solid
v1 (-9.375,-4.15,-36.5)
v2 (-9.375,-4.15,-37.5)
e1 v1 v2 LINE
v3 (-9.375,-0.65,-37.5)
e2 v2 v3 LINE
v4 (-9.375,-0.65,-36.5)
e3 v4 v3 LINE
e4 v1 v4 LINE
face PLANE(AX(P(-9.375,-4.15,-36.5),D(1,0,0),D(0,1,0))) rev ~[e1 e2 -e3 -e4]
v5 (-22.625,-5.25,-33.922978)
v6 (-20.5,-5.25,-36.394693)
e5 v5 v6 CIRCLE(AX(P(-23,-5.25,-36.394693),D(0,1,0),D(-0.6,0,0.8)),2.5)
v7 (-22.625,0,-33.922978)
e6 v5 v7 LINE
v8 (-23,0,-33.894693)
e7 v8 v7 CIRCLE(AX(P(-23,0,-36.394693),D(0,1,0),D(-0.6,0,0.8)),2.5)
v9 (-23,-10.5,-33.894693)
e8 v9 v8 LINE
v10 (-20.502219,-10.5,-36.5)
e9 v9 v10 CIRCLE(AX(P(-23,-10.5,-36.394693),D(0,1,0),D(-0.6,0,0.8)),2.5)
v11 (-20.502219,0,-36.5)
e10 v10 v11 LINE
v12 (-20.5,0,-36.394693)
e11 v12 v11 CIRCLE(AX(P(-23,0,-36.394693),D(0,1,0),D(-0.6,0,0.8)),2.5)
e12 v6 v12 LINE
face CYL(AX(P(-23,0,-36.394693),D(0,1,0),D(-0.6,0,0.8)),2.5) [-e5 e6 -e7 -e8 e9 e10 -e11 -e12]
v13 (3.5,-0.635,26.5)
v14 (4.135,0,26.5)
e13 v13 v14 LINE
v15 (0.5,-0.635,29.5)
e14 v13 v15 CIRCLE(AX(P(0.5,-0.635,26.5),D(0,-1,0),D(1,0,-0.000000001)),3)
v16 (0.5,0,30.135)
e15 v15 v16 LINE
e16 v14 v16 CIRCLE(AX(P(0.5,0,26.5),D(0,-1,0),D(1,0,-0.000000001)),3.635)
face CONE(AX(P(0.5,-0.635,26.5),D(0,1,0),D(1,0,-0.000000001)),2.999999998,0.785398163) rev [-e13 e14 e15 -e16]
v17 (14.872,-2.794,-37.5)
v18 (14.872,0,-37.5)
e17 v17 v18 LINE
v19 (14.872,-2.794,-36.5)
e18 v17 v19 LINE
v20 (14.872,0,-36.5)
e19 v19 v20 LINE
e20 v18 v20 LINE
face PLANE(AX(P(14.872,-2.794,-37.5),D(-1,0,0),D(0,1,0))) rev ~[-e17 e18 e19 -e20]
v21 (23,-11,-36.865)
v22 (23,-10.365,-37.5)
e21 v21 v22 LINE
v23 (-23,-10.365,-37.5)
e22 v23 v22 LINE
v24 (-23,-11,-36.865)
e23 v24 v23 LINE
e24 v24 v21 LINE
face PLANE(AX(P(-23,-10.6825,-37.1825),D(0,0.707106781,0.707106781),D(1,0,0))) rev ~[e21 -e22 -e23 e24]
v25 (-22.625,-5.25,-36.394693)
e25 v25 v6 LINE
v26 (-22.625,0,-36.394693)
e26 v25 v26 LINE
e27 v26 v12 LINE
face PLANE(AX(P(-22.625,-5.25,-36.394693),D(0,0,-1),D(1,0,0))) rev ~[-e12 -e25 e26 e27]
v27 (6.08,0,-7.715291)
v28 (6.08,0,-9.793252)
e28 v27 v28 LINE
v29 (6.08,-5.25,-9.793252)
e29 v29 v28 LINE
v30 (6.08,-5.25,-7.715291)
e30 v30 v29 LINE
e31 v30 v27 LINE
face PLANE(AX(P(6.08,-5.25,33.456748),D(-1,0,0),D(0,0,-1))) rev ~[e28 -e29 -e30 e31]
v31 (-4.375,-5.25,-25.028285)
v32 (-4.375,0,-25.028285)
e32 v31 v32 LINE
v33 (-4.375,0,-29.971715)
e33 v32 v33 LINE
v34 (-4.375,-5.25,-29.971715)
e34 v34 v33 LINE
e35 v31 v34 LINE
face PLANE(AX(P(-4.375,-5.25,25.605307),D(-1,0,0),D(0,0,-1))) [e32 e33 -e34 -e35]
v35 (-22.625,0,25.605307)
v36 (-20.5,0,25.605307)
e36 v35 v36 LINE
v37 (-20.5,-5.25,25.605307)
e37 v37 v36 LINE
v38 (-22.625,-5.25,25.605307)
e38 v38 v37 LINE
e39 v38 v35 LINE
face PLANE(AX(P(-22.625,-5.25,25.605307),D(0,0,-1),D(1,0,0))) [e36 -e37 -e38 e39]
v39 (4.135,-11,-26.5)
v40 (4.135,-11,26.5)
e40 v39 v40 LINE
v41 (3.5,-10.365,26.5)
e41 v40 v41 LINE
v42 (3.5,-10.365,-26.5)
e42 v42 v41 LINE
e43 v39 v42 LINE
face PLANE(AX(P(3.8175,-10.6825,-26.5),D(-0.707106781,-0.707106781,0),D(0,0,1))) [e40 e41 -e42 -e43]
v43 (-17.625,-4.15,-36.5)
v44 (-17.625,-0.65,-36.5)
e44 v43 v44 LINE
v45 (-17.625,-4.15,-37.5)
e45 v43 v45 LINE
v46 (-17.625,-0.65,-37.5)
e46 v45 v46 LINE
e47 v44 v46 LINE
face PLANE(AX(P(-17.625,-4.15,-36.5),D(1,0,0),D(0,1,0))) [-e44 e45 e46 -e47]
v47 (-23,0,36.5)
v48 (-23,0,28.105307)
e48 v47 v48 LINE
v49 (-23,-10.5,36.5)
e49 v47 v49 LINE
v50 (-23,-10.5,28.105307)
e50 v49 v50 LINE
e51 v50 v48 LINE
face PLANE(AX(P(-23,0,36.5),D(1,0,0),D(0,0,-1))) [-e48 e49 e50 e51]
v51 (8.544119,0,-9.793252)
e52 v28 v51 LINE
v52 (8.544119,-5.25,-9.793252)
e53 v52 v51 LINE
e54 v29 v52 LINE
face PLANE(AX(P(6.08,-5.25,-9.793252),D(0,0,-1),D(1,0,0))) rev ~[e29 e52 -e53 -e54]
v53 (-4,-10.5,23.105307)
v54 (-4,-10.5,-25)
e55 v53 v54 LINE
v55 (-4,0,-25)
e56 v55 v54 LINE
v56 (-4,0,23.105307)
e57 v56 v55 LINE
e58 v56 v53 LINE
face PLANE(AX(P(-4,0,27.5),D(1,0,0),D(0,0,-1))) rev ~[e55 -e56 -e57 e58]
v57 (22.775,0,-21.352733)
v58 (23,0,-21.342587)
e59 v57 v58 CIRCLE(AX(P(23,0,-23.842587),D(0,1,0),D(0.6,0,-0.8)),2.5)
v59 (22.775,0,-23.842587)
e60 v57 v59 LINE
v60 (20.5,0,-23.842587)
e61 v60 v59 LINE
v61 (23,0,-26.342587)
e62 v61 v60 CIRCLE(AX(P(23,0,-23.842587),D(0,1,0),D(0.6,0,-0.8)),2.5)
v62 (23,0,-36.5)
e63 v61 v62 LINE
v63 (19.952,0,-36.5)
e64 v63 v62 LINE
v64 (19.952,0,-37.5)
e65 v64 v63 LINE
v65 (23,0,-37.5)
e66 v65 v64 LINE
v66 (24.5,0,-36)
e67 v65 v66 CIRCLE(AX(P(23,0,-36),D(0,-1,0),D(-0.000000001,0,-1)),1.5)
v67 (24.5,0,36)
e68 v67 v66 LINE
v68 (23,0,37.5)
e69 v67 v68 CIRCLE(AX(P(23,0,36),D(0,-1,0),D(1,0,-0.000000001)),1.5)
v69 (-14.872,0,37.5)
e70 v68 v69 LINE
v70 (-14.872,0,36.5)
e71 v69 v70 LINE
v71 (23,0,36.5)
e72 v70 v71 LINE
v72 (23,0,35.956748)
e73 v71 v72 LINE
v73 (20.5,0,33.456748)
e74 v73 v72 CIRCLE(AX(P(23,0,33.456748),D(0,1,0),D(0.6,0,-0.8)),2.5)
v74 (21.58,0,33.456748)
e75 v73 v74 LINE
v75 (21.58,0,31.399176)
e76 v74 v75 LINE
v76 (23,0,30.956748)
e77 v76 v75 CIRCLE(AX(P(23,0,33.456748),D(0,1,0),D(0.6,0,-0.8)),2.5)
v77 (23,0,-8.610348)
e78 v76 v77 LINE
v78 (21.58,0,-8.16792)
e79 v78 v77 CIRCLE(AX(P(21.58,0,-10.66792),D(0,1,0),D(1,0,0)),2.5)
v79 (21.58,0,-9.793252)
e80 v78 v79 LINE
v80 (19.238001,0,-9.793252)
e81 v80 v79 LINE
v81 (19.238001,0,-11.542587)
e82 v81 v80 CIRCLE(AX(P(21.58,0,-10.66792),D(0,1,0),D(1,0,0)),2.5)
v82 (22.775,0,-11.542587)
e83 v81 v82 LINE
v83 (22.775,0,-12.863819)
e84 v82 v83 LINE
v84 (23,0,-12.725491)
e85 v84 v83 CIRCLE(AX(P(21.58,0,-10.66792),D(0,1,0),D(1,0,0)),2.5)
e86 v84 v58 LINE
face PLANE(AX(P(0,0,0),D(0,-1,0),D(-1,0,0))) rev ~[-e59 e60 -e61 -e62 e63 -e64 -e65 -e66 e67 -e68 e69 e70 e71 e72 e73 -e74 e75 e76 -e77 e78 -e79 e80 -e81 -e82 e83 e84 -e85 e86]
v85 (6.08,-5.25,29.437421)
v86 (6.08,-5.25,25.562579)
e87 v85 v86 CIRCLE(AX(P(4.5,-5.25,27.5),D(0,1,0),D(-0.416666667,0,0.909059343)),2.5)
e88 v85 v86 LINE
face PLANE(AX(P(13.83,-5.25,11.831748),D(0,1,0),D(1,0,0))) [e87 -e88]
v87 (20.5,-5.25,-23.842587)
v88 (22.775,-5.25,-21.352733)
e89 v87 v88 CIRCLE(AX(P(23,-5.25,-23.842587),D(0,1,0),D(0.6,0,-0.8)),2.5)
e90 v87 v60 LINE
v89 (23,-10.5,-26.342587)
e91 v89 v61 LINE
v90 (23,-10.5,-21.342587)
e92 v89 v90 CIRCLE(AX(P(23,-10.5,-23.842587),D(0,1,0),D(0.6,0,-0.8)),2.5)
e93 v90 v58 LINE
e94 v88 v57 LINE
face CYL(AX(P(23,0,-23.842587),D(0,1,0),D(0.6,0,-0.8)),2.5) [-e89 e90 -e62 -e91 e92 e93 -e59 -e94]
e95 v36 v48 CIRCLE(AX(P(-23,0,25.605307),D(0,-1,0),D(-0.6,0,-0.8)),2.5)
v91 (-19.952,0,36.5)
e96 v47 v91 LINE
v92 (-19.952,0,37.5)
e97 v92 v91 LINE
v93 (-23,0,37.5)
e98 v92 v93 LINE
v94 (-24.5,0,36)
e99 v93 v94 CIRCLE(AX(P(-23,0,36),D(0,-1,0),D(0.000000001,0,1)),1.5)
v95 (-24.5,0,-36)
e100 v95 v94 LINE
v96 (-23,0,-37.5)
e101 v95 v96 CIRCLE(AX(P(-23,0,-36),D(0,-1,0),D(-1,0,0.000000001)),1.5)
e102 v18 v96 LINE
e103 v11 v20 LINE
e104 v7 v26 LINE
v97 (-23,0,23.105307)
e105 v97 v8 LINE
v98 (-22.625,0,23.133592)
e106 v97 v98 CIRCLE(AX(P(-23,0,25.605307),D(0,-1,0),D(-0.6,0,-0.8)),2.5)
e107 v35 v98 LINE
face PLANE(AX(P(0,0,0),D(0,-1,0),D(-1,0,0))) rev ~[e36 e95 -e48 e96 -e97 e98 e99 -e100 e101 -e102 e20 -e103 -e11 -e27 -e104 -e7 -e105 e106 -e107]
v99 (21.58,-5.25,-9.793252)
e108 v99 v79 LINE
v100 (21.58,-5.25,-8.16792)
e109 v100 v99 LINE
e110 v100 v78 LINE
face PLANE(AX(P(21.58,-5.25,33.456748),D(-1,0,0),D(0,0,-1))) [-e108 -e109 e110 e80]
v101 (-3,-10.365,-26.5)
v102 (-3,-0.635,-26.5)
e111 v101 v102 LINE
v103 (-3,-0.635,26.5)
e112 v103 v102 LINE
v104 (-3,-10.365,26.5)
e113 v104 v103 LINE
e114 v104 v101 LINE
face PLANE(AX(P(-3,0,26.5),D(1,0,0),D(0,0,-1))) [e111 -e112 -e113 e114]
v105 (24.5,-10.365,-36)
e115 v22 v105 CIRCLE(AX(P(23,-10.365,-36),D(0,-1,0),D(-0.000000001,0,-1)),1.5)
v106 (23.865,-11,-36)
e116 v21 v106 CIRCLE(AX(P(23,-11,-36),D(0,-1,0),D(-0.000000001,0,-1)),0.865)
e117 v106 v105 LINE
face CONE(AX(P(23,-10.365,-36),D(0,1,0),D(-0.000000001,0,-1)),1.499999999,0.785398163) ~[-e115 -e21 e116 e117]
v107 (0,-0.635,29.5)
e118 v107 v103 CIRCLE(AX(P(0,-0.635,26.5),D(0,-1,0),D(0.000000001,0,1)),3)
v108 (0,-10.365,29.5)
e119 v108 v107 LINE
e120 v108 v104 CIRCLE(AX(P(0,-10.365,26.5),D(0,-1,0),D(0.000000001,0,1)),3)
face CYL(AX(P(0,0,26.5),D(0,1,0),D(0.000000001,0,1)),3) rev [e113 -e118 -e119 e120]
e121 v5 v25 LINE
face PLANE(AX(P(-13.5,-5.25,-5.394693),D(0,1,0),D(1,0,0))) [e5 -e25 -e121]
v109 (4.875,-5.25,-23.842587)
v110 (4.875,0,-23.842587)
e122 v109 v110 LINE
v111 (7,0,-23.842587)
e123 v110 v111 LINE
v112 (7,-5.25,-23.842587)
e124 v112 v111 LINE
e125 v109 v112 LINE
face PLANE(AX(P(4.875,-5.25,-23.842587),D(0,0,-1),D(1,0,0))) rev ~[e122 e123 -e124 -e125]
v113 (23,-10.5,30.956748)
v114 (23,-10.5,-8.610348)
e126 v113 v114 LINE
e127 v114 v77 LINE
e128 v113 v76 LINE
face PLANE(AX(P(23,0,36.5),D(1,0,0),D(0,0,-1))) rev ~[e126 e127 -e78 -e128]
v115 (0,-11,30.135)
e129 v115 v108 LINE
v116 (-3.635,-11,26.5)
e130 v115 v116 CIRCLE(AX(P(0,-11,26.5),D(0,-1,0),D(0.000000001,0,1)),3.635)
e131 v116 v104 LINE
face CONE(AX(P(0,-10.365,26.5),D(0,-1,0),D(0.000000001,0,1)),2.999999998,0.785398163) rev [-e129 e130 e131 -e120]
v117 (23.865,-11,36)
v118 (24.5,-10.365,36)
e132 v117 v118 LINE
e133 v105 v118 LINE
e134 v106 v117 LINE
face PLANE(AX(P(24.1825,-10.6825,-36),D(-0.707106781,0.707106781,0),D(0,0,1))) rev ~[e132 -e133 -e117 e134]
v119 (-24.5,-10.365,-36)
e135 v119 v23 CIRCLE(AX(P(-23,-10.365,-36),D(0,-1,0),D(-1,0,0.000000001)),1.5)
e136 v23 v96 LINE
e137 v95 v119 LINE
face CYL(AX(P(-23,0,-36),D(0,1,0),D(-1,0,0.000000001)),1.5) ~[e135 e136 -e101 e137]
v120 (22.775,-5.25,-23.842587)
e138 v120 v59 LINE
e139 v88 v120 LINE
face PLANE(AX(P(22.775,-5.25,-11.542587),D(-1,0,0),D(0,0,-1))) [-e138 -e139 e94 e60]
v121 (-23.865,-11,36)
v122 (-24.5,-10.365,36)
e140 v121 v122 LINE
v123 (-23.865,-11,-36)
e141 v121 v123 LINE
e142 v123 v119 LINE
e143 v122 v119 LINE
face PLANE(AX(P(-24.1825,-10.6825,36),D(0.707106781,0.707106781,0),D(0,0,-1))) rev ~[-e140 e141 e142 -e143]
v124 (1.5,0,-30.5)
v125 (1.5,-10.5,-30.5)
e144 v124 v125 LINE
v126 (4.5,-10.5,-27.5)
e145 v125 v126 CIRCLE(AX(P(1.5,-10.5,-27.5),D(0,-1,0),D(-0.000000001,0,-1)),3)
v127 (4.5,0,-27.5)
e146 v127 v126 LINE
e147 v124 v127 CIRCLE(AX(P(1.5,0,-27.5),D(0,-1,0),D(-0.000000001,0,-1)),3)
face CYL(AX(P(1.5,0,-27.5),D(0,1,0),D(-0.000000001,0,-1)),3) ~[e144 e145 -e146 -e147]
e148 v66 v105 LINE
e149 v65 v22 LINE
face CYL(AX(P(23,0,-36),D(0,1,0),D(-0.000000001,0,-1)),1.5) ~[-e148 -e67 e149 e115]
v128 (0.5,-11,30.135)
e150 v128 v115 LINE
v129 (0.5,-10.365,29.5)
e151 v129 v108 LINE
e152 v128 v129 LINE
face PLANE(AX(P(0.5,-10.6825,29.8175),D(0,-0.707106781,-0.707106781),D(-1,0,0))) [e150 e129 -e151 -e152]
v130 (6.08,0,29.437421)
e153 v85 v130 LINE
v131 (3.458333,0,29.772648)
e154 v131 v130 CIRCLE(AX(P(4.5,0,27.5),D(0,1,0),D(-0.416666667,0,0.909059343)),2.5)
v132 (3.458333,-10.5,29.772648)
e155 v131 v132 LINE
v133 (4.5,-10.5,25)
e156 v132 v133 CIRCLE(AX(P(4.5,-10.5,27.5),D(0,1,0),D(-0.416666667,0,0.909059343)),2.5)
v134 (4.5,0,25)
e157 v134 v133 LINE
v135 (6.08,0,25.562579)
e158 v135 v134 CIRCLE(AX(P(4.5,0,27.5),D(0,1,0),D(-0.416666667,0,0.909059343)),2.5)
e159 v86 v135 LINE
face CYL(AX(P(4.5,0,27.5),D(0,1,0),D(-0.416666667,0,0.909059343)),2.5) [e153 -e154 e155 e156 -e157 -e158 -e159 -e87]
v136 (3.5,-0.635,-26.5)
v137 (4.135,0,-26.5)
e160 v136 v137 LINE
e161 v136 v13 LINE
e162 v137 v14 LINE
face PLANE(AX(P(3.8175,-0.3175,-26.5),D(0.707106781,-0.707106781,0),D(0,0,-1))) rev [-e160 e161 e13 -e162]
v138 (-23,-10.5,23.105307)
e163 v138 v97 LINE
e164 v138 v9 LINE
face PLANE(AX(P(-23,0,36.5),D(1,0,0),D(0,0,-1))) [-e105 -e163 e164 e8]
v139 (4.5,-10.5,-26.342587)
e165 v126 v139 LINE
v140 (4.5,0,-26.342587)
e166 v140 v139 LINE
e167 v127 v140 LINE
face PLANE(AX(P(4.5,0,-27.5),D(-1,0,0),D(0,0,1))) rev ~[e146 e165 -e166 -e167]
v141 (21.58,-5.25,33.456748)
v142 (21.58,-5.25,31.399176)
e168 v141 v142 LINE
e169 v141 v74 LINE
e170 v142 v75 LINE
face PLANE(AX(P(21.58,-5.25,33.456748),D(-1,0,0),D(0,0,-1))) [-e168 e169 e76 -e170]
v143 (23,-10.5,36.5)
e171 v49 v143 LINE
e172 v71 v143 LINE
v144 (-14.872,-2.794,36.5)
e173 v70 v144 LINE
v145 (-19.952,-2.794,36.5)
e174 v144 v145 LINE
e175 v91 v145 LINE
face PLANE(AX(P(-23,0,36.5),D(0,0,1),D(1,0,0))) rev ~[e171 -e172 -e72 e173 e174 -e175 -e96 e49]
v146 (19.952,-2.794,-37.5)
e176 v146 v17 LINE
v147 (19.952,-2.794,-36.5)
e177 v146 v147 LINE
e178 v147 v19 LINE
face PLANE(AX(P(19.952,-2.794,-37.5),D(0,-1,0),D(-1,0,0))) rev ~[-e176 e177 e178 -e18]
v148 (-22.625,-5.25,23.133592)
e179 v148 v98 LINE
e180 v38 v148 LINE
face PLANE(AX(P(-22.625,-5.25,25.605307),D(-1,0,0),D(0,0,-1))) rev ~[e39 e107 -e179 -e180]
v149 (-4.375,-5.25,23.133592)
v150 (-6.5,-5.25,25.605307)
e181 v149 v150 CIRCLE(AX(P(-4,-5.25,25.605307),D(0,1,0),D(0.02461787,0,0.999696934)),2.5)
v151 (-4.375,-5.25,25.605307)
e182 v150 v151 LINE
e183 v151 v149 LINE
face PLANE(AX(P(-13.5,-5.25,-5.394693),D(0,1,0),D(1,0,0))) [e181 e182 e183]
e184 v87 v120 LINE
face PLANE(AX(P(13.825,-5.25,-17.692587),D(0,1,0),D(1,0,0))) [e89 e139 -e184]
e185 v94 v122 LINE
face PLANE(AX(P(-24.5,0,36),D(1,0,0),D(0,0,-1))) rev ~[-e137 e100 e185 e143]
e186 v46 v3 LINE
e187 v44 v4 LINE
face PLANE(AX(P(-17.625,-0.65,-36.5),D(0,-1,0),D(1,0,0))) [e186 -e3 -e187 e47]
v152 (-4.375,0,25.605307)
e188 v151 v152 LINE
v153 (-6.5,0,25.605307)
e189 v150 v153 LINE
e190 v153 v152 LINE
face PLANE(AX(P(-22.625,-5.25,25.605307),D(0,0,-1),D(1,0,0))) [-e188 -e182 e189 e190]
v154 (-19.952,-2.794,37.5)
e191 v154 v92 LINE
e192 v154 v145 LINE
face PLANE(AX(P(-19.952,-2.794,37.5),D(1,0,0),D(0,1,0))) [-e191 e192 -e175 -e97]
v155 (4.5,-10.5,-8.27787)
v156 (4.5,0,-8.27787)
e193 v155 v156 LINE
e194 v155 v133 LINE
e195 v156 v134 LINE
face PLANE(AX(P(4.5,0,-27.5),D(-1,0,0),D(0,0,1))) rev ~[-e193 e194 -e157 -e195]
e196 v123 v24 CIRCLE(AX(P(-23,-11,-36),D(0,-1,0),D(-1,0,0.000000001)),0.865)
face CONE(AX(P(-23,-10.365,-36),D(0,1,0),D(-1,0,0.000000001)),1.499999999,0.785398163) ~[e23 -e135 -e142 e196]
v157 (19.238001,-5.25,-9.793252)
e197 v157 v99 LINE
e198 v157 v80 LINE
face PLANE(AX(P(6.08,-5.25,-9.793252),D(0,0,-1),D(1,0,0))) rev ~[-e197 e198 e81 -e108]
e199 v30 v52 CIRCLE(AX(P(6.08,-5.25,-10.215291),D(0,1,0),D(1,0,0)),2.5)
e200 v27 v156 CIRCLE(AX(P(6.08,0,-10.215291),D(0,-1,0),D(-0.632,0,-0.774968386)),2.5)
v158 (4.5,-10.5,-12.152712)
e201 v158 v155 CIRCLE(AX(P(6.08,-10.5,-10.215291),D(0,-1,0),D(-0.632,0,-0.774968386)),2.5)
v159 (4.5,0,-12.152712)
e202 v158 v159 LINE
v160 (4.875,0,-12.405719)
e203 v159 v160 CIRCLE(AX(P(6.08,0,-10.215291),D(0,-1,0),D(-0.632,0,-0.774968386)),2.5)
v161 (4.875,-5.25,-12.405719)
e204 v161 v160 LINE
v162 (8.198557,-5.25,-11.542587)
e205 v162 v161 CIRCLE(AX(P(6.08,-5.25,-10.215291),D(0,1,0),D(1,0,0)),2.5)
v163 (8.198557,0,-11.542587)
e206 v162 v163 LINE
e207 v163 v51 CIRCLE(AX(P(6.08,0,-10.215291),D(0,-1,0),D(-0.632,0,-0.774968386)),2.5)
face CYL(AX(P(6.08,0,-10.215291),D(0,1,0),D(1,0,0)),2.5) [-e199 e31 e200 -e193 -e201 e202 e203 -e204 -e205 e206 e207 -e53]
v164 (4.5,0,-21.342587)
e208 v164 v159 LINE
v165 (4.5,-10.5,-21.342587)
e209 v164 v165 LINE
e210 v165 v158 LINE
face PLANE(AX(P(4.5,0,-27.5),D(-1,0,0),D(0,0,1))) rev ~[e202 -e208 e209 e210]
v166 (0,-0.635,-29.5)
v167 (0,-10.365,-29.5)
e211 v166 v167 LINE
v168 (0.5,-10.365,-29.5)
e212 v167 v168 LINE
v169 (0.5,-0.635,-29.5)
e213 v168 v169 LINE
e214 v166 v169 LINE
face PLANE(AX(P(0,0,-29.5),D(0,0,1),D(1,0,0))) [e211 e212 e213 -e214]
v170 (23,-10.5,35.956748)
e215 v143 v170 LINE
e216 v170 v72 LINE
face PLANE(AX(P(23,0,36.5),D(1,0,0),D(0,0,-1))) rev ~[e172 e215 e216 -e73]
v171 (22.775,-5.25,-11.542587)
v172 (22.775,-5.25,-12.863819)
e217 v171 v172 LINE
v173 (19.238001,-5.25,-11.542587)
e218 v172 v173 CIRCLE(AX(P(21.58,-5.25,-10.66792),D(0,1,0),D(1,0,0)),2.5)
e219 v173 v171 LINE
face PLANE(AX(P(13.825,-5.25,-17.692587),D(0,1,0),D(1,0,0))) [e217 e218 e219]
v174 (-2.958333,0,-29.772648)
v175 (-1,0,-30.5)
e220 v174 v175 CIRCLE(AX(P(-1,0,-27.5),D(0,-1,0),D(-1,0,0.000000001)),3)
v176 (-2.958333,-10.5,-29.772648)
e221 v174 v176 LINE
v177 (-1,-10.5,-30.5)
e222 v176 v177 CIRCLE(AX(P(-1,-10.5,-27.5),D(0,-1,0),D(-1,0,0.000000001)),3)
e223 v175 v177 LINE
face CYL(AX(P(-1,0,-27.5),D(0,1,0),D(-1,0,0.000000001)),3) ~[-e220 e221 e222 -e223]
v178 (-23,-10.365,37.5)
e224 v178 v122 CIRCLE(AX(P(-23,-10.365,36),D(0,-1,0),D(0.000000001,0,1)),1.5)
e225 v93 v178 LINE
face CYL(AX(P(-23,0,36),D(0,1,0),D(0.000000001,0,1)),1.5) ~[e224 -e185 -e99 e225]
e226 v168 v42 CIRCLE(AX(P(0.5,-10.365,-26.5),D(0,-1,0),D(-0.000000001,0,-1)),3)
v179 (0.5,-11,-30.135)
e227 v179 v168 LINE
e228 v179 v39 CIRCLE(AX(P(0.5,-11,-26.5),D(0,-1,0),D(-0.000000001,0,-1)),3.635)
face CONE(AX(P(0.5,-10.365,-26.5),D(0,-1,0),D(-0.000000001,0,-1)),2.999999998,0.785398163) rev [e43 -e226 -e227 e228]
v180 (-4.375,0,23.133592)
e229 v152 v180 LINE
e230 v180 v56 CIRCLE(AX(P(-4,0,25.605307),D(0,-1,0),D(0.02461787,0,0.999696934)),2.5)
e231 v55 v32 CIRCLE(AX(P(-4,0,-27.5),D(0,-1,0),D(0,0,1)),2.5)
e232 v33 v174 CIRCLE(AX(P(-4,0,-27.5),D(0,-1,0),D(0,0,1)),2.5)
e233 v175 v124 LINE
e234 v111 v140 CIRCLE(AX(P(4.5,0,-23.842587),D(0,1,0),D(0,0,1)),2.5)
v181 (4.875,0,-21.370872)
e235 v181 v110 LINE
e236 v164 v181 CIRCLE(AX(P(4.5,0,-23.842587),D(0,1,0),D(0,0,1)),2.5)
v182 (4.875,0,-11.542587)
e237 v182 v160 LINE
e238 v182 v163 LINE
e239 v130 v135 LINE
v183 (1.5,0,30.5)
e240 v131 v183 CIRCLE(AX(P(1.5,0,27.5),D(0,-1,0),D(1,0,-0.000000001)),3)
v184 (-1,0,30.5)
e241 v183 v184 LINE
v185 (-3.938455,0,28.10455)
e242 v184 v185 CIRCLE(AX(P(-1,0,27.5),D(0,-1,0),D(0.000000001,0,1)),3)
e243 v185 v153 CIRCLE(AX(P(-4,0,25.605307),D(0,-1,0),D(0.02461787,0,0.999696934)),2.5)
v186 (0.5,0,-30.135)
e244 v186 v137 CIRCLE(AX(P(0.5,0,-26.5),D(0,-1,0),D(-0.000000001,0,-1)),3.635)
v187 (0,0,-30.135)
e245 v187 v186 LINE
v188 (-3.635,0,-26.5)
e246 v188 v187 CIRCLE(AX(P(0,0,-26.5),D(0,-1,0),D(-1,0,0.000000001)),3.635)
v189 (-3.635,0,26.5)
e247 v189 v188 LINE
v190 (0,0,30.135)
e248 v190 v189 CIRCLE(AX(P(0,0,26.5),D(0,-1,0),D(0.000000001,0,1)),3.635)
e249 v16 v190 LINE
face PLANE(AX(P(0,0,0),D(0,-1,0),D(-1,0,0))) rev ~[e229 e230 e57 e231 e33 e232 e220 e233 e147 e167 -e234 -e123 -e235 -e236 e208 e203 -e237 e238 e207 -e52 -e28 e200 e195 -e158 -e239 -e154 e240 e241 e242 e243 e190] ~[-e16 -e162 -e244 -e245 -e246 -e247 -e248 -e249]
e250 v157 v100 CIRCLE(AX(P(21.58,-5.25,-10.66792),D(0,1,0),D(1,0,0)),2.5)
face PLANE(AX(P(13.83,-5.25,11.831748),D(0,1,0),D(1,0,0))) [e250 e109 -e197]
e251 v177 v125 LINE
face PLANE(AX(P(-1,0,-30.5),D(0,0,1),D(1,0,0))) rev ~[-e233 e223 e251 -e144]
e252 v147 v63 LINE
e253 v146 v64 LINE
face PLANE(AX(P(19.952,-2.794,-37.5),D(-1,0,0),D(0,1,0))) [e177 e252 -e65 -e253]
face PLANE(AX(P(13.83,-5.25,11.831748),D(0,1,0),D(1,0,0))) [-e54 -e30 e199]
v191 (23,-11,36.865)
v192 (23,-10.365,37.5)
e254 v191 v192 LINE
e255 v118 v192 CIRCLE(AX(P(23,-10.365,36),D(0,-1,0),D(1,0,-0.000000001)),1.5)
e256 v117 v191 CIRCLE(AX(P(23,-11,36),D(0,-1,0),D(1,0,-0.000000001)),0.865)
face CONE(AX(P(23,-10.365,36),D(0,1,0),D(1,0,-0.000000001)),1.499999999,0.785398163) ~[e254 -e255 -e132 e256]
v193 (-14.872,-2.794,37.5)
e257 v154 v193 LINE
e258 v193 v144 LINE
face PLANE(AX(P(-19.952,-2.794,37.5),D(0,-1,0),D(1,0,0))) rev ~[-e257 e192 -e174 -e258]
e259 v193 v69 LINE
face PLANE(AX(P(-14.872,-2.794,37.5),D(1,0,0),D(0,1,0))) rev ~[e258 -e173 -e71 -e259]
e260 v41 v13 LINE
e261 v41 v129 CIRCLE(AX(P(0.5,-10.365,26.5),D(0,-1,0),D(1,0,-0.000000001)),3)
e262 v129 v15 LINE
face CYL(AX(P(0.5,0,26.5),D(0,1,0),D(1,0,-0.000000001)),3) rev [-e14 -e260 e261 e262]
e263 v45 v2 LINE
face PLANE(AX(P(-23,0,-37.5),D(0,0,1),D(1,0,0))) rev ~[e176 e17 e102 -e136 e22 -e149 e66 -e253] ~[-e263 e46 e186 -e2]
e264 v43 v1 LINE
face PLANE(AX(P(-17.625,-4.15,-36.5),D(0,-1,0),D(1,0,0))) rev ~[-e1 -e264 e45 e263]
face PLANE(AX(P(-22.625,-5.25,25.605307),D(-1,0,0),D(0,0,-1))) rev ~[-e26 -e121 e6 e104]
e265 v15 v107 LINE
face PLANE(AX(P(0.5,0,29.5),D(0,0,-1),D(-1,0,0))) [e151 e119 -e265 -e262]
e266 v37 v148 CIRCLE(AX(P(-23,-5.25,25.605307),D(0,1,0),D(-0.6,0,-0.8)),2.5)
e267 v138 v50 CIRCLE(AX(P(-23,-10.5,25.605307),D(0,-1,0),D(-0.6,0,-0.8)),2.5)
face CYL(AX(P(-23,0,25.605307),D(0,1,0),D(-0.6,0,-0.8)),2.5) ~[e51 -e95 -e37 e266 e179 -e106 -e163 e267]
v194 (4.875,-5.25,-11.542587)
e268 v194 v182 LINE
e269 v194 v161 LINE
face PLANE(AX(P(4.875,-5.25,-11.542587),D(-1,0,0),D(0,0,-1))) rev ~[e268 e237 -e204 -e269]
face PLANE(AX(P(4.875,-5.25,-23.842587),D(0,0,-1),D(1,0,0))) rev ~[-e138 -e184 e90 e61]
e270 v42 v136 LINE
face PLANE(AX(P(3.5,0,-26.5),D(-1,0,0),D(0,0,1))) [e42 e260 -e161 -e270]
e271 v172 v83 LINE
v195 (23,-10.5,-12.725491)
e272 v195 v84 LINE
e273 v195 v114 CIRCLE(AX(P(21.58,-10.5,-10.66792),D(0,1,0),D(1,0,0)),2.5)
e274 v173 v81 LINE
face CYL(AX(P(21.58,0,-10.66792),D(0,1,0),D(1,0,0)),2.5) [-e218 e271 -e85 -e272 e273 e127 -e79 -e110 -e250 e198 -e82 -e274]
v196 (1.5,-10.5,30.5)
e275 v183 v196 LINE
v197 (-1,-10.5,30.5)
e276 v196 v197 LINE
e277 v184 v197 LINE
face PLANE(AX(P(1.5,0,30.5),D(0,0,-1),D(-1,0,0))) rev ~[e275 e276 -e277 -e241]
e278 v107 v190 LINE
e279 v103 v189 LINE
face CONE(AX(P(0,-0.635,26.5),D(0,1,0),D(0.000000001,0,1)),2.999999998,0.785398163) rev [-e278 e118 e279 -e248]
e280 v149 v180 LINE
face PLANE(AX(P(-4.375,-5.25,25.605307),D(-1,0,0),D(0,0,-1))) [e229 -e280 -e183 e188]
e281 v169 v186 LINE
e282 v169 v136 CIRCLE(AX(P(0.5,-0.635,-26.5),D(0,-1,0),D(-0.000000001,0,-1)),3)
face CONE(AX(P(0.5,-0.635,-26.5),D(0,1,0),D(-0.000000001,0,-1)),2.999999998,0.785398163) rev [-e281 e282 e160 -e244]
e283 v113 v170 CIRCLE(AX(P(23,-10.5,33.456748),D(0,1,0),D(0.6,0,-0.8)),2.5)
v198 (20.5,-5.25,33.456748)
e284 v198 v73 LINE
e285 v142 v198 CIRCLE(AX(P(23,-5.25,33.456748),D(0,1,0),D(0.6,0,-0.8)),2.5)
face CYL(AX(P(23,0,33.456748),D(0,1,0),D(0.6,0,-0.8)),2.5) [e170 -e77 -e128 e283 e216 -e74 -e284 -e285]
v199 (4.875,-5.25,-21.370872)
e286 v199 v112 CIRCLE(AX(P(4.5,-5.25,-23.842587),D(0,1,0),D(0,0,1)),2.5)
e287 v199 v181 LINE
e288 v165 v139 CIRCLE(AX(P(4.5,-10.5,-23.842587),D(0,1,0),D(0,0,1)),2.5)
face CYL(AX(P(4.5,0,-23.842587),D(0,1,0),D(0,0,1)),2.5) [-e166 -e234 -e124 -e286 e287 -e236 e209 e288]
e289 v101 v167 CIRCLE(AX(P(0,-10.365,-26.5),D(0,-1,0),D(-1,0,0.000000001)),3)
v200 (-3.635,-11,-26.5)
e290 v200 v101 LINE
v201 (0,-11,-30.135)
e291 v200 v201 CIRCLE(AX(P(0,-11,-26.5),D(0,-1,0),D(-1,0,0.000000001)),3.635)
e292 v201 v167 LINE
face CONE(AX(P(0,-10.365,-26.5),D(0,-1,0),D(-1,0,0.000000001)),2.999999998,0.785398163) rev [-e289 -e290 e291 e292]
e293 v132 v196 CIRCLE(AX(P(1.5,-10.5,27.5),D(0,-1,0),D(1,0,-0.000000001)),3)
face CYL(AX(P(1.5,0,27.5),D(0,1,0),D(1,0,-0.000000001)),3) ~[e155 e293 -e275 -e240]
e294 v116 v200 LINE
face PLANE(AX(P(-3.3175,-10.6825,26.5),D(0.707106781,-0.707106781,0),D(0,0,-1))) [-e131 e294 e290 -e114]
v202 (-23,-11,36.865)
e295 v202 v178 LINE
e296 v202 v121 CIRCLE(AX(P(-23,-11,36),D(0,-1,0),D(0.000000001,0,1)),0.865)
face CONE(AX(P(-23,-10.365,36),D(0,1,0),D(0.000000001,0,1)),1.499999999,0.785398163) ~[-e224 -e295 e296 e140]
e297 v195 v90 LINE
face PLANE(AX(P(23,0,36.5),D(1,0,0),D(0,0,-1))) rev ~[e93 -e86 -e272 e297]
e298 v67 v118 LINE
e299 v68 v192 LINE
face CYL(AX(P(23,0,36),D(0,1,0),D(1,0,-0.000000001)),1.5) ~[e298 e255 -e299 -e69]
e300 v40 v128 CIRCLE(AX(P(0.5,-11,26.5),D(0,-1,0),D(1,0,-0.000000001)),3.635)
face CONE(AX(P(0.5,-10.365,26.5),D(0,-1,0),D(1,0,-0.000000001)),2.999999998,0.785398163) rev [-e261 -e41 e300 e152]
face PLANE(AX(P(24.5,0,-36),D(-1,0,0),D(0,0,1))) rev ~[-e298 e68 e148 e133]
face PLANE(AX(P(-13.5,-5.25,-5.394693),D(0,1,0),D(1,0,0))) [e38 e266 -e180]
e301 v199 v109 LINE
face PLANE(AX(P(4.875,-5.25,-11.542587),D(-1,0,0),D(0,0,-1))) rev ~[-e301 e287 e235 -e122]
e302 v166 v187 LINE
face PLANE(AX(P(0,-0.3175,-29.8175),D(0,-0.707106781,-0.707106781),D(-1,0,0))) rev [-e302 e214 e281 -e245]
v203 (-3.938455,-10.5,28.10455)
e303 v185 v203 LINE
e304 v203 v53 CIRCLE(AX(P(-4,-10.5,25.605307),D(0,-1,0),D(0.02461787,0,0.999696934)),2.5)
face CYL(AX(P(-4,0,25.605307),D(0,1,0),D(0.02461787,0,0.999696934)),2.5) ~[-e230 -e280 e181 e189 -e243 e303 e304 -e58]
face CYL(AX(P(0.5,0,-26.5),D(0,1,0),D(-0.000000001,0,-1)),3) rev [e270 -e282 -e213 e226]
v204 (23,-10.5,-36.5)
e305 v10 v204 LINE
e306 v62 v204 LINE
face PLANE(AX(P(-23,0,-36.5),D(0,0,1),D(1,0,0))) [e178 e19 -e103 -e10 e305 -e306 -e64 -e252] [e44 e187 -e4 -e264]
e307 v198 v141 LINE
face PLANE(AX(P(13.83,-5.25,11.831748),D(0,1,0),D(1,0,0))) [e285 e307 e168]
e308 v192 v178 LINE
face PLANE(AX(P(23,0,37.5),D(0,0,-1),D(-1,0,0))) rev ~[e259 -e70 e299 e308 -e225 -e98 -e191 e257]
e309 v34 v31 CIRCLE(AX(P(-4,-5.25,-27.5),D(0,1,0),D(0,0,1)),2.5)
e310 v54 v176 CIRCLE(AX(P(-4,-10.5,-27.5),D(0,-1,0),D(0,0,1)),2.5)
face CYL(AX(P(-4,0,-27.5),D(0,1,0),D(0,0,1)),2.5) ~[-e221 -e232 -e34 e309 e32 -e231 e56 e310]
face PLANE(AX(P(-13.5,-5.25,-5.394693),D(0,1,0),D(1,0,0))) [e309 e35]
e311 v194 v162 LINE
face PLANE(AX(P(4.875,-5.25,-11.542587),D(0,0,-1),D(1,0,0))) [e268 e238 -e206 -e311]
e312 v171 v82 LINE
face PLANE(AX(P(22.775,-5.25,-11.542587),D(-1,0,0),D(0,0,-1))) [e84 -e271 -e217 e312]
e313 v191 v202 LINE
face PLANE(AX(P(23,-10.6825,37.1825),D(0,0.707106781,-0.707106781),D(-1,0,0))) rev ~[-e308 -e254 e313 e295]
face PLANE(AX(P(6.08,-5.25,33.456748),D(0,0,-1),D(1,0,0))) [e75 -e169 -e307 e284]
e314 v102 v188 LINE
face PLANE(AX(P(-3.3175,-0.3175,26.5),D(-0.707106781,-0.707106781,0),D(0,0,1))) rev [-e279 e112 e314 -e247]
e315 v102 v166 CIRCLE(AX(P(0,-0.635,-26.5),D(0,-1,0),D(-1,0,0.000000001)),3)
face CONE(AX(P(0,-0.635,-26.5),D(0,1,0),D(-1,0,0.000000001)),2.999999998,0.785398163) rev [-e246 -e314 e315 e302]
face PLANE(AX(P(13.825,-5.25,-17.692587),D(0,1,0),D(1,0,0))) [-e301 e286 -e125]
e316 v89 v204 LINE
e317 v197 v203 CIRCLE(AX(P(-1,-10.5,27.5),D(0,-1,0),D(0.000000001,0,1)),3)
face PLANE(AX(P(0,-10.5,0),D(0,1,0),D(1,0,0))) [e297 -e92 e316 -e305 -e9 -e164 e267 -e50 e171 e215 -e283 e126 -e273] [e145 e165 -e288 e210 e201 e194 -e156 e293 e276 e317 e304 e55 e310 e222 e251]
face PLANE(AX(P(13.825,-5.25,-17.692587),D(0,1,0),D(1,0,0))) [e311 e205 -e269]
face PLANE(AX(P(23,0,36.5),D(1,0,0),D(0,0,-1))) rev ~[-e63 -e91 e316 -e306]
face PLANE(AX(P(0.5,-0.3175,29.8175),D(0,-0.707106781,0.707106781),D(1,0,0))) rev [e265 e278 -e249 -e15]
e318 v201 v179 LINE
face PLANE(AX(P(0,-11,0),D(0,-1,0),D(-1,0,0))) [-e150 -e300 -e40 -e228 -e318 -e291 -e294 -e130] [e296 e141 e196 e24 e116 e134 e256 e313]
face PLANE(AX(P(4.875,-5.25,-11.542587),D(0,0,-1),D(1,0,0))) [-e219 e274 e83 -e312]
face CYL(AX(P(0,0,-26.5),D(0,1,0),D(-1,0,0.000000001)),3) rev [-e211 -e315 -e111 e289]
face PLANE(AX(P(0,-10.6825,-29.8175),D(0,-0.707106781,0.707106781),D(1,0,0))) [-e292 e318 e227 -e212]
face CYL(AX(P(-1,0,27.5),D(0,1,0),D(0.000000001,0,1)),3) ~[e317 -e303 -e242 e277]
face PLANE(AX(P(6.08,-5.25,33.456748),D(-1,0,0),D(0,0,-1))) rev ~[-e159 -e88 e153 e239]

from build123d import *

# Parameters (mm, degrees)
BOSS_EXTRUDE1_DEPTH = 11
SKETCH8_W           = 46
SKETCH8_H           = 73
CUT_EXTRUDE1_DEPTH  = 10.5
BOSS_EXTRUDE2_START = 10.5
SKETCH9_R           = 2.5
BOSS_EXTRUDE2_DEPTH = 10.5
SKETCH10_W          = 15.5
SKETCH10_H          = 43.25
SKETCH10_W_2        = 17.9
SKETCH10_H_2        = 12.3
SKETCH10_W_3        = 18.25
SKETCH10_H_3        = 62
CUT_EXTRUDE3_DEPTH  = 5.25
SKETCH14_W          = 8.25
SKETCH14_H          = 3.5
CUT_EXTRUDE6_DEPTH  = 5
CUT_EXTRUDE7_REACH  = 81.663
SKETCH15_W          = 5.08
SKETCH15_H          = 2.794
CUT_EXTRUDE8_REACH  = 81.663
SKETCH16_W          = 5.08
SKETCH16_H          = 2.794
CHAMFER1_SIZE       = 0.635


with BuildPart() as part:
    # Sketch2 → Boss-Extrude1 (new body)
    with BuildSketch(Plane(origin=(0, 0, 0), x_dir=(1, 0, 0), z_dir=(0, 1, 0))):
        with BuildLine():
            Line((23, -37.5), (-23, -37.5))
            ThreePointArc((-23, -37.5), (-24.060660172, -37.060660172), (-24.5, -36))
            Line((-24.5, -36), (-24.5, 36))
            ThreePointArc((-24.5, 36), (-24.060660172, 37.060660172), (-23, 37.5))
            Line((-23, 37.5), (23, 37.5))
            ThreePointArc((23, 37.5), (24.060660172, 37.060660172), (24.5, 36))
            Line((24.5, 36), (24.5, -36))
            ThreePointArc((24.5, -36), (24.060660172, -37.060660172), (23, -37.5))
        make_face()
        with BuildLine():
            Line((0, 29.5), (0.5, 29.5))
            ThreePointArc((0.5, 29.5), (2.621320344, 28.621320344), (3.5, 26.5))
            Line((3.5, 26.5), (3.5, -26.5))
            ThreePointArc((3.5, -26.5), (2.621320344, -28.621320344), (0.5, -29.5))
            Line((0.5, -29.5), (0, -29.5))
            ThreePointArc((0, -29.5), (-2.121320344, -28.621320344), (-3, -26.5))
            Line((-3, -26.5), (-3, 26.5))
            ThreePointArc((-3, 26.5), (-2.121320344, 28.621320344), (0, 29.5))
        make_face(mode=Mode.SUBTRACT)
    extrude(amount=-BOSS_EXTRUDE1_DEPTH)

    # Sketch8 → Cut-Extrude1 (cut)
    # profile 1 of 2: a face of its own
    with BuildSketch(Plane(origin=(0, 0, 0), x_dir=(1, 0, 0), z_dir=(0, 1, 0))):
        Rectangle(SKETCH8_W, SKETCH8_H)
        with BuildLine():
            Line((-1, 30.5), (1.5, 30.5))
            ThreePointArc((1.5, 30.5), (3.621320344, 29.621320344), (4.5, 27.5))
            Line((4.5, 27.5), (4.5, -27.5))
            ThreePointArc((4.5, -27.5), (3.621320344, -29.621320344), (1.5, -30.5))
            Line((1.5, -30.5), (-1, -30.5))
            ThreePointArc((-1, -30.5), (-3.121320344, -29.621320344), (-4, -27.5))
            Line((-4, -27.5), (-4, 27.5))
            ThreePointArc((-4, 27.5), (-3.121320344, 29.621320344), (-1, 30.5))
        make_face(mode=Mode.SUBTRACT)
    # profile 2 of 2: a face of its own
    with BuildSketch(Plane(origin=(0, 0, 0), x_dir=(1, 0, 0), z_dir=(0, 1, 0))):
        with BuildLine():
            Line((0, 29.5), (0.5, 29.5))
            ThreePointArc((0.5, 29.5), (2.621320344, 28.621320344), (3.5, 26.5))
            Line((3.5, 26.5), (3.5, -26.5))
            ThreePointArc((3.5, -26.5), (2.621320344, -28.621320344), (0.5, -29.5))
            Line((0.5, -29.5), (0, -29.5))
            ThreePointArc((0, -29.5), (-2.121320344, -28.621320344), (-3, -26.5))
            Line((-3, -26.5), (-3, 26.5))
            ThreePointArc((-3, 26.5), (-2.121320344, 28.621320344), (0, 29.5))
        make_face()
    extrude(amount=-CUT_EXTRUDE1_DEPTH, mode=Mode.SUBTRACT)

    # Sketch9 → Boss-Extrude2 (add)
    with BuildSketch(Plane(origin=(0, -10.5, 0), x_dir=(1, 0, 0), z_dir=(0, 1, 0)).offset(BOSS_EXTRUDE2_START)):
        with Locations((21.58, 10.667919779)):
            Circle(SKETCH9_R)
        with Locations((6.08, 10.21529089)):
            Circle(SKETCH9_R)
        with BuildLine():
            Line((24.5, -35.456747529), (24.5, -31.456747529))
            ThreePointArc((24.5, -31.456747529), (20.5, -33.456747529), (24.5, -35.456747529))
        make_face()
        with BuildLine():
            Line((4.5, 26.342587088), (4.5, 21.342587088))
            ThreePointArc((4.5, 21.342587088), (7, 23.842587088), (4.5, 26.342587088))
        make_face()
        with BuildLine():
            Line((-4, 27.5), (-4, 25))
            ThreePointArc((-4, 25), (-6.442500859, 28.033094319), (-2.958333333, 29.772648357))
            ThreePointArc((-2.958333333, 29.772648357), (-3.727178029, 28.75), (-4, 27.5))
        make_face()
        with BuildLine():
            Line((-24.5, -27.605307327), (-24.5, -23.605307327))
            ThreePointArc((-24.5, -23.605307327), (-20.5, -25.605307327), (-24.5, -27.605307327))
        make_face()
        with BuildLine():
            Line((-20.757613835, 37.5), (-23, 37.5))
            ThreePointArc((-23, 37.5), (-24.060660172, 37.060660172), (-24.5, 36))
            Line((-24.5, 36), (-24.5, 34.394692673))
            ThreePointArc((-24.5, 34.394692673), (-21.40359225, 34.470769001), (-20.757613835, 37.5))
        make_face()
        with BuildLine():
            Line((24.5, 21.842587088), (24.5, 25.842587088))
            ThreePointArc((24.5, 25.842587088), (20.5, 23.842587088), (24.5, 21.842587088))
        make_face()
        with BuildLine():
            Line((-4, -23.105307327), (-4, -27.5))
            ThreePointArc((-4, -27.5), (-3.984574172, -27.803837144), (-3.938455326, -28.104549663))
            ThreePointArc((-3.938455326, -28.104549663), (-6.499810577, -25.636081995), (-4, -23.105307327))
        make_face()
        with BuildLine():
            Line((4.5, -25), (4.5, -27.5))
            ThreePointArc((4.5, -27.5), (4.227178029, -28.75), (3.458333333, -29.772648357))
            ThreePointArc((3.458333333, -29.772648357), (6.942500859, -28.033094319), (4.5, -25))
        make_face()
    extrude(amount=-BOSS_EXTRUDE2_DEPTH)

    # Sketch10 → Cut-Extrude3 (cut)
    with BuildSketch(Plane(origin=(0, -5.25, 0), x_dir=(1, 0, 0), z_dir=(0, 1, 0))):
        with Locations((13.83, -11.831747529)):
            Rectangle(SKETCH10_W, SKETCH10_H)
        with Locations((13.825, 17.692587088)):
            Rectangle(SKETCH10_W_2, SKETCH10_H_2)
        with Locations((-13.5, 5.394692673)):
            Rectangle(SKETCH10_W_3, SKETCH10_H_3)
    extrude(amount=CUT_EXTRUDE3_DEPTH, mode=Mode.SUBTRACT)

    # Sketch14 → Cut-Extrude6 (cut)
    with BuildSketch(Plane.XY.offset(-36.5)):
        with Locations((-13.5, -2.4)):
            Rectangle(SKETCH14_W, SKETCH14_H)
    extrude(amount=-CUT_EXTRUDE6_DEPTH, mode=Mode.SUBTRACT)

    # Sketch15 → Cut-Extrude7 (cut, up to next)
    with BuildSketch(Plane(origin=(0, 0, -37.5), x_dir=(-1, 0, 0), z_dir=(0, 0, -1)), mode=Mode.PRIVATE) as cut_extrude7_sk1:
        with Locations((-17.412, -1.397)):
            Rectangle(SKETCH15_W, SKETCH15_H)
    cut_extrude7_tool1 = extrude(cut_extrude7_sk1.sketch, amount=-CUT_EXTRUDE7_REACH, mode=Mode.PRIVATE) & part.part
    add(cut_extrude7_tool1.solids().sort_by_distance((17.412, -1.397, -37.5))[0], mode=Mode.SUBTRACT)

    # Sketch16 → Cut-Extrude8 (cut, up to next)
    with BuildSketch(Plane.XY.offset(37.5), mode=Mode.PRIVATE) as cut_extrude8_sk1:
        with Locations((-17.412, -1.397)):
            Rectangle(SKETCH16_W, SKETCH16_H)
    cut_extrude8_tool1 = extrude(cut_extrude8_sk1.sketch, amount=-CUT_EXTRUDE8_REACH, mode=Mode.PRIVATE) & part.part
    add(cut_extrude8_tool1.solids().sort_by_distance((-17.412, -1.397, 37.5))[0], mode=Mode.SUBTRACT)

    # Chamfer1
    chamfer1_edges = [part.edges().sort_by_distance(p)[0] for p in [
        (-24.060660172, -11, -37.060660172),
        (-24.5, -11, 0),
        (-2.121320344, 0, -28.621320344),
        (-3, 0, 0),
        (-2.121320344, 0, 28.621320344),
        (0.25, 0, 29.5),
        (2.621320344, 0, 28.621320344),
        (3.5, 0, 0),
        (-24.060660172, -11, 37.060660172),
        (2.621320344, 0, -28.621320344),
        (0.25, 0, -29.5),
        (0, -11, 37.5),
        (24.060660172, -11, 37.060660172),
        (24.5, -11, 0),
        (24.060660172, -11, -37.060660172),
        (0.25, -11, -29.5),
        (2.621320344, -11, -28.621320344),
        (3.5, -11, 0),
        (0, -11, -37.5),
        (2.621320344, -11, 28.621320344),
        (0.25, -11, 29.5),
        (-2.121320344, -11, 28.621320344),
        (-3, -11, 0),
        (-2.121320344, -11, -28.621320344),
    ]]
    chamfer(chamfer1_edges, length=CHAMFER1_SIZE)


solid = part.part
